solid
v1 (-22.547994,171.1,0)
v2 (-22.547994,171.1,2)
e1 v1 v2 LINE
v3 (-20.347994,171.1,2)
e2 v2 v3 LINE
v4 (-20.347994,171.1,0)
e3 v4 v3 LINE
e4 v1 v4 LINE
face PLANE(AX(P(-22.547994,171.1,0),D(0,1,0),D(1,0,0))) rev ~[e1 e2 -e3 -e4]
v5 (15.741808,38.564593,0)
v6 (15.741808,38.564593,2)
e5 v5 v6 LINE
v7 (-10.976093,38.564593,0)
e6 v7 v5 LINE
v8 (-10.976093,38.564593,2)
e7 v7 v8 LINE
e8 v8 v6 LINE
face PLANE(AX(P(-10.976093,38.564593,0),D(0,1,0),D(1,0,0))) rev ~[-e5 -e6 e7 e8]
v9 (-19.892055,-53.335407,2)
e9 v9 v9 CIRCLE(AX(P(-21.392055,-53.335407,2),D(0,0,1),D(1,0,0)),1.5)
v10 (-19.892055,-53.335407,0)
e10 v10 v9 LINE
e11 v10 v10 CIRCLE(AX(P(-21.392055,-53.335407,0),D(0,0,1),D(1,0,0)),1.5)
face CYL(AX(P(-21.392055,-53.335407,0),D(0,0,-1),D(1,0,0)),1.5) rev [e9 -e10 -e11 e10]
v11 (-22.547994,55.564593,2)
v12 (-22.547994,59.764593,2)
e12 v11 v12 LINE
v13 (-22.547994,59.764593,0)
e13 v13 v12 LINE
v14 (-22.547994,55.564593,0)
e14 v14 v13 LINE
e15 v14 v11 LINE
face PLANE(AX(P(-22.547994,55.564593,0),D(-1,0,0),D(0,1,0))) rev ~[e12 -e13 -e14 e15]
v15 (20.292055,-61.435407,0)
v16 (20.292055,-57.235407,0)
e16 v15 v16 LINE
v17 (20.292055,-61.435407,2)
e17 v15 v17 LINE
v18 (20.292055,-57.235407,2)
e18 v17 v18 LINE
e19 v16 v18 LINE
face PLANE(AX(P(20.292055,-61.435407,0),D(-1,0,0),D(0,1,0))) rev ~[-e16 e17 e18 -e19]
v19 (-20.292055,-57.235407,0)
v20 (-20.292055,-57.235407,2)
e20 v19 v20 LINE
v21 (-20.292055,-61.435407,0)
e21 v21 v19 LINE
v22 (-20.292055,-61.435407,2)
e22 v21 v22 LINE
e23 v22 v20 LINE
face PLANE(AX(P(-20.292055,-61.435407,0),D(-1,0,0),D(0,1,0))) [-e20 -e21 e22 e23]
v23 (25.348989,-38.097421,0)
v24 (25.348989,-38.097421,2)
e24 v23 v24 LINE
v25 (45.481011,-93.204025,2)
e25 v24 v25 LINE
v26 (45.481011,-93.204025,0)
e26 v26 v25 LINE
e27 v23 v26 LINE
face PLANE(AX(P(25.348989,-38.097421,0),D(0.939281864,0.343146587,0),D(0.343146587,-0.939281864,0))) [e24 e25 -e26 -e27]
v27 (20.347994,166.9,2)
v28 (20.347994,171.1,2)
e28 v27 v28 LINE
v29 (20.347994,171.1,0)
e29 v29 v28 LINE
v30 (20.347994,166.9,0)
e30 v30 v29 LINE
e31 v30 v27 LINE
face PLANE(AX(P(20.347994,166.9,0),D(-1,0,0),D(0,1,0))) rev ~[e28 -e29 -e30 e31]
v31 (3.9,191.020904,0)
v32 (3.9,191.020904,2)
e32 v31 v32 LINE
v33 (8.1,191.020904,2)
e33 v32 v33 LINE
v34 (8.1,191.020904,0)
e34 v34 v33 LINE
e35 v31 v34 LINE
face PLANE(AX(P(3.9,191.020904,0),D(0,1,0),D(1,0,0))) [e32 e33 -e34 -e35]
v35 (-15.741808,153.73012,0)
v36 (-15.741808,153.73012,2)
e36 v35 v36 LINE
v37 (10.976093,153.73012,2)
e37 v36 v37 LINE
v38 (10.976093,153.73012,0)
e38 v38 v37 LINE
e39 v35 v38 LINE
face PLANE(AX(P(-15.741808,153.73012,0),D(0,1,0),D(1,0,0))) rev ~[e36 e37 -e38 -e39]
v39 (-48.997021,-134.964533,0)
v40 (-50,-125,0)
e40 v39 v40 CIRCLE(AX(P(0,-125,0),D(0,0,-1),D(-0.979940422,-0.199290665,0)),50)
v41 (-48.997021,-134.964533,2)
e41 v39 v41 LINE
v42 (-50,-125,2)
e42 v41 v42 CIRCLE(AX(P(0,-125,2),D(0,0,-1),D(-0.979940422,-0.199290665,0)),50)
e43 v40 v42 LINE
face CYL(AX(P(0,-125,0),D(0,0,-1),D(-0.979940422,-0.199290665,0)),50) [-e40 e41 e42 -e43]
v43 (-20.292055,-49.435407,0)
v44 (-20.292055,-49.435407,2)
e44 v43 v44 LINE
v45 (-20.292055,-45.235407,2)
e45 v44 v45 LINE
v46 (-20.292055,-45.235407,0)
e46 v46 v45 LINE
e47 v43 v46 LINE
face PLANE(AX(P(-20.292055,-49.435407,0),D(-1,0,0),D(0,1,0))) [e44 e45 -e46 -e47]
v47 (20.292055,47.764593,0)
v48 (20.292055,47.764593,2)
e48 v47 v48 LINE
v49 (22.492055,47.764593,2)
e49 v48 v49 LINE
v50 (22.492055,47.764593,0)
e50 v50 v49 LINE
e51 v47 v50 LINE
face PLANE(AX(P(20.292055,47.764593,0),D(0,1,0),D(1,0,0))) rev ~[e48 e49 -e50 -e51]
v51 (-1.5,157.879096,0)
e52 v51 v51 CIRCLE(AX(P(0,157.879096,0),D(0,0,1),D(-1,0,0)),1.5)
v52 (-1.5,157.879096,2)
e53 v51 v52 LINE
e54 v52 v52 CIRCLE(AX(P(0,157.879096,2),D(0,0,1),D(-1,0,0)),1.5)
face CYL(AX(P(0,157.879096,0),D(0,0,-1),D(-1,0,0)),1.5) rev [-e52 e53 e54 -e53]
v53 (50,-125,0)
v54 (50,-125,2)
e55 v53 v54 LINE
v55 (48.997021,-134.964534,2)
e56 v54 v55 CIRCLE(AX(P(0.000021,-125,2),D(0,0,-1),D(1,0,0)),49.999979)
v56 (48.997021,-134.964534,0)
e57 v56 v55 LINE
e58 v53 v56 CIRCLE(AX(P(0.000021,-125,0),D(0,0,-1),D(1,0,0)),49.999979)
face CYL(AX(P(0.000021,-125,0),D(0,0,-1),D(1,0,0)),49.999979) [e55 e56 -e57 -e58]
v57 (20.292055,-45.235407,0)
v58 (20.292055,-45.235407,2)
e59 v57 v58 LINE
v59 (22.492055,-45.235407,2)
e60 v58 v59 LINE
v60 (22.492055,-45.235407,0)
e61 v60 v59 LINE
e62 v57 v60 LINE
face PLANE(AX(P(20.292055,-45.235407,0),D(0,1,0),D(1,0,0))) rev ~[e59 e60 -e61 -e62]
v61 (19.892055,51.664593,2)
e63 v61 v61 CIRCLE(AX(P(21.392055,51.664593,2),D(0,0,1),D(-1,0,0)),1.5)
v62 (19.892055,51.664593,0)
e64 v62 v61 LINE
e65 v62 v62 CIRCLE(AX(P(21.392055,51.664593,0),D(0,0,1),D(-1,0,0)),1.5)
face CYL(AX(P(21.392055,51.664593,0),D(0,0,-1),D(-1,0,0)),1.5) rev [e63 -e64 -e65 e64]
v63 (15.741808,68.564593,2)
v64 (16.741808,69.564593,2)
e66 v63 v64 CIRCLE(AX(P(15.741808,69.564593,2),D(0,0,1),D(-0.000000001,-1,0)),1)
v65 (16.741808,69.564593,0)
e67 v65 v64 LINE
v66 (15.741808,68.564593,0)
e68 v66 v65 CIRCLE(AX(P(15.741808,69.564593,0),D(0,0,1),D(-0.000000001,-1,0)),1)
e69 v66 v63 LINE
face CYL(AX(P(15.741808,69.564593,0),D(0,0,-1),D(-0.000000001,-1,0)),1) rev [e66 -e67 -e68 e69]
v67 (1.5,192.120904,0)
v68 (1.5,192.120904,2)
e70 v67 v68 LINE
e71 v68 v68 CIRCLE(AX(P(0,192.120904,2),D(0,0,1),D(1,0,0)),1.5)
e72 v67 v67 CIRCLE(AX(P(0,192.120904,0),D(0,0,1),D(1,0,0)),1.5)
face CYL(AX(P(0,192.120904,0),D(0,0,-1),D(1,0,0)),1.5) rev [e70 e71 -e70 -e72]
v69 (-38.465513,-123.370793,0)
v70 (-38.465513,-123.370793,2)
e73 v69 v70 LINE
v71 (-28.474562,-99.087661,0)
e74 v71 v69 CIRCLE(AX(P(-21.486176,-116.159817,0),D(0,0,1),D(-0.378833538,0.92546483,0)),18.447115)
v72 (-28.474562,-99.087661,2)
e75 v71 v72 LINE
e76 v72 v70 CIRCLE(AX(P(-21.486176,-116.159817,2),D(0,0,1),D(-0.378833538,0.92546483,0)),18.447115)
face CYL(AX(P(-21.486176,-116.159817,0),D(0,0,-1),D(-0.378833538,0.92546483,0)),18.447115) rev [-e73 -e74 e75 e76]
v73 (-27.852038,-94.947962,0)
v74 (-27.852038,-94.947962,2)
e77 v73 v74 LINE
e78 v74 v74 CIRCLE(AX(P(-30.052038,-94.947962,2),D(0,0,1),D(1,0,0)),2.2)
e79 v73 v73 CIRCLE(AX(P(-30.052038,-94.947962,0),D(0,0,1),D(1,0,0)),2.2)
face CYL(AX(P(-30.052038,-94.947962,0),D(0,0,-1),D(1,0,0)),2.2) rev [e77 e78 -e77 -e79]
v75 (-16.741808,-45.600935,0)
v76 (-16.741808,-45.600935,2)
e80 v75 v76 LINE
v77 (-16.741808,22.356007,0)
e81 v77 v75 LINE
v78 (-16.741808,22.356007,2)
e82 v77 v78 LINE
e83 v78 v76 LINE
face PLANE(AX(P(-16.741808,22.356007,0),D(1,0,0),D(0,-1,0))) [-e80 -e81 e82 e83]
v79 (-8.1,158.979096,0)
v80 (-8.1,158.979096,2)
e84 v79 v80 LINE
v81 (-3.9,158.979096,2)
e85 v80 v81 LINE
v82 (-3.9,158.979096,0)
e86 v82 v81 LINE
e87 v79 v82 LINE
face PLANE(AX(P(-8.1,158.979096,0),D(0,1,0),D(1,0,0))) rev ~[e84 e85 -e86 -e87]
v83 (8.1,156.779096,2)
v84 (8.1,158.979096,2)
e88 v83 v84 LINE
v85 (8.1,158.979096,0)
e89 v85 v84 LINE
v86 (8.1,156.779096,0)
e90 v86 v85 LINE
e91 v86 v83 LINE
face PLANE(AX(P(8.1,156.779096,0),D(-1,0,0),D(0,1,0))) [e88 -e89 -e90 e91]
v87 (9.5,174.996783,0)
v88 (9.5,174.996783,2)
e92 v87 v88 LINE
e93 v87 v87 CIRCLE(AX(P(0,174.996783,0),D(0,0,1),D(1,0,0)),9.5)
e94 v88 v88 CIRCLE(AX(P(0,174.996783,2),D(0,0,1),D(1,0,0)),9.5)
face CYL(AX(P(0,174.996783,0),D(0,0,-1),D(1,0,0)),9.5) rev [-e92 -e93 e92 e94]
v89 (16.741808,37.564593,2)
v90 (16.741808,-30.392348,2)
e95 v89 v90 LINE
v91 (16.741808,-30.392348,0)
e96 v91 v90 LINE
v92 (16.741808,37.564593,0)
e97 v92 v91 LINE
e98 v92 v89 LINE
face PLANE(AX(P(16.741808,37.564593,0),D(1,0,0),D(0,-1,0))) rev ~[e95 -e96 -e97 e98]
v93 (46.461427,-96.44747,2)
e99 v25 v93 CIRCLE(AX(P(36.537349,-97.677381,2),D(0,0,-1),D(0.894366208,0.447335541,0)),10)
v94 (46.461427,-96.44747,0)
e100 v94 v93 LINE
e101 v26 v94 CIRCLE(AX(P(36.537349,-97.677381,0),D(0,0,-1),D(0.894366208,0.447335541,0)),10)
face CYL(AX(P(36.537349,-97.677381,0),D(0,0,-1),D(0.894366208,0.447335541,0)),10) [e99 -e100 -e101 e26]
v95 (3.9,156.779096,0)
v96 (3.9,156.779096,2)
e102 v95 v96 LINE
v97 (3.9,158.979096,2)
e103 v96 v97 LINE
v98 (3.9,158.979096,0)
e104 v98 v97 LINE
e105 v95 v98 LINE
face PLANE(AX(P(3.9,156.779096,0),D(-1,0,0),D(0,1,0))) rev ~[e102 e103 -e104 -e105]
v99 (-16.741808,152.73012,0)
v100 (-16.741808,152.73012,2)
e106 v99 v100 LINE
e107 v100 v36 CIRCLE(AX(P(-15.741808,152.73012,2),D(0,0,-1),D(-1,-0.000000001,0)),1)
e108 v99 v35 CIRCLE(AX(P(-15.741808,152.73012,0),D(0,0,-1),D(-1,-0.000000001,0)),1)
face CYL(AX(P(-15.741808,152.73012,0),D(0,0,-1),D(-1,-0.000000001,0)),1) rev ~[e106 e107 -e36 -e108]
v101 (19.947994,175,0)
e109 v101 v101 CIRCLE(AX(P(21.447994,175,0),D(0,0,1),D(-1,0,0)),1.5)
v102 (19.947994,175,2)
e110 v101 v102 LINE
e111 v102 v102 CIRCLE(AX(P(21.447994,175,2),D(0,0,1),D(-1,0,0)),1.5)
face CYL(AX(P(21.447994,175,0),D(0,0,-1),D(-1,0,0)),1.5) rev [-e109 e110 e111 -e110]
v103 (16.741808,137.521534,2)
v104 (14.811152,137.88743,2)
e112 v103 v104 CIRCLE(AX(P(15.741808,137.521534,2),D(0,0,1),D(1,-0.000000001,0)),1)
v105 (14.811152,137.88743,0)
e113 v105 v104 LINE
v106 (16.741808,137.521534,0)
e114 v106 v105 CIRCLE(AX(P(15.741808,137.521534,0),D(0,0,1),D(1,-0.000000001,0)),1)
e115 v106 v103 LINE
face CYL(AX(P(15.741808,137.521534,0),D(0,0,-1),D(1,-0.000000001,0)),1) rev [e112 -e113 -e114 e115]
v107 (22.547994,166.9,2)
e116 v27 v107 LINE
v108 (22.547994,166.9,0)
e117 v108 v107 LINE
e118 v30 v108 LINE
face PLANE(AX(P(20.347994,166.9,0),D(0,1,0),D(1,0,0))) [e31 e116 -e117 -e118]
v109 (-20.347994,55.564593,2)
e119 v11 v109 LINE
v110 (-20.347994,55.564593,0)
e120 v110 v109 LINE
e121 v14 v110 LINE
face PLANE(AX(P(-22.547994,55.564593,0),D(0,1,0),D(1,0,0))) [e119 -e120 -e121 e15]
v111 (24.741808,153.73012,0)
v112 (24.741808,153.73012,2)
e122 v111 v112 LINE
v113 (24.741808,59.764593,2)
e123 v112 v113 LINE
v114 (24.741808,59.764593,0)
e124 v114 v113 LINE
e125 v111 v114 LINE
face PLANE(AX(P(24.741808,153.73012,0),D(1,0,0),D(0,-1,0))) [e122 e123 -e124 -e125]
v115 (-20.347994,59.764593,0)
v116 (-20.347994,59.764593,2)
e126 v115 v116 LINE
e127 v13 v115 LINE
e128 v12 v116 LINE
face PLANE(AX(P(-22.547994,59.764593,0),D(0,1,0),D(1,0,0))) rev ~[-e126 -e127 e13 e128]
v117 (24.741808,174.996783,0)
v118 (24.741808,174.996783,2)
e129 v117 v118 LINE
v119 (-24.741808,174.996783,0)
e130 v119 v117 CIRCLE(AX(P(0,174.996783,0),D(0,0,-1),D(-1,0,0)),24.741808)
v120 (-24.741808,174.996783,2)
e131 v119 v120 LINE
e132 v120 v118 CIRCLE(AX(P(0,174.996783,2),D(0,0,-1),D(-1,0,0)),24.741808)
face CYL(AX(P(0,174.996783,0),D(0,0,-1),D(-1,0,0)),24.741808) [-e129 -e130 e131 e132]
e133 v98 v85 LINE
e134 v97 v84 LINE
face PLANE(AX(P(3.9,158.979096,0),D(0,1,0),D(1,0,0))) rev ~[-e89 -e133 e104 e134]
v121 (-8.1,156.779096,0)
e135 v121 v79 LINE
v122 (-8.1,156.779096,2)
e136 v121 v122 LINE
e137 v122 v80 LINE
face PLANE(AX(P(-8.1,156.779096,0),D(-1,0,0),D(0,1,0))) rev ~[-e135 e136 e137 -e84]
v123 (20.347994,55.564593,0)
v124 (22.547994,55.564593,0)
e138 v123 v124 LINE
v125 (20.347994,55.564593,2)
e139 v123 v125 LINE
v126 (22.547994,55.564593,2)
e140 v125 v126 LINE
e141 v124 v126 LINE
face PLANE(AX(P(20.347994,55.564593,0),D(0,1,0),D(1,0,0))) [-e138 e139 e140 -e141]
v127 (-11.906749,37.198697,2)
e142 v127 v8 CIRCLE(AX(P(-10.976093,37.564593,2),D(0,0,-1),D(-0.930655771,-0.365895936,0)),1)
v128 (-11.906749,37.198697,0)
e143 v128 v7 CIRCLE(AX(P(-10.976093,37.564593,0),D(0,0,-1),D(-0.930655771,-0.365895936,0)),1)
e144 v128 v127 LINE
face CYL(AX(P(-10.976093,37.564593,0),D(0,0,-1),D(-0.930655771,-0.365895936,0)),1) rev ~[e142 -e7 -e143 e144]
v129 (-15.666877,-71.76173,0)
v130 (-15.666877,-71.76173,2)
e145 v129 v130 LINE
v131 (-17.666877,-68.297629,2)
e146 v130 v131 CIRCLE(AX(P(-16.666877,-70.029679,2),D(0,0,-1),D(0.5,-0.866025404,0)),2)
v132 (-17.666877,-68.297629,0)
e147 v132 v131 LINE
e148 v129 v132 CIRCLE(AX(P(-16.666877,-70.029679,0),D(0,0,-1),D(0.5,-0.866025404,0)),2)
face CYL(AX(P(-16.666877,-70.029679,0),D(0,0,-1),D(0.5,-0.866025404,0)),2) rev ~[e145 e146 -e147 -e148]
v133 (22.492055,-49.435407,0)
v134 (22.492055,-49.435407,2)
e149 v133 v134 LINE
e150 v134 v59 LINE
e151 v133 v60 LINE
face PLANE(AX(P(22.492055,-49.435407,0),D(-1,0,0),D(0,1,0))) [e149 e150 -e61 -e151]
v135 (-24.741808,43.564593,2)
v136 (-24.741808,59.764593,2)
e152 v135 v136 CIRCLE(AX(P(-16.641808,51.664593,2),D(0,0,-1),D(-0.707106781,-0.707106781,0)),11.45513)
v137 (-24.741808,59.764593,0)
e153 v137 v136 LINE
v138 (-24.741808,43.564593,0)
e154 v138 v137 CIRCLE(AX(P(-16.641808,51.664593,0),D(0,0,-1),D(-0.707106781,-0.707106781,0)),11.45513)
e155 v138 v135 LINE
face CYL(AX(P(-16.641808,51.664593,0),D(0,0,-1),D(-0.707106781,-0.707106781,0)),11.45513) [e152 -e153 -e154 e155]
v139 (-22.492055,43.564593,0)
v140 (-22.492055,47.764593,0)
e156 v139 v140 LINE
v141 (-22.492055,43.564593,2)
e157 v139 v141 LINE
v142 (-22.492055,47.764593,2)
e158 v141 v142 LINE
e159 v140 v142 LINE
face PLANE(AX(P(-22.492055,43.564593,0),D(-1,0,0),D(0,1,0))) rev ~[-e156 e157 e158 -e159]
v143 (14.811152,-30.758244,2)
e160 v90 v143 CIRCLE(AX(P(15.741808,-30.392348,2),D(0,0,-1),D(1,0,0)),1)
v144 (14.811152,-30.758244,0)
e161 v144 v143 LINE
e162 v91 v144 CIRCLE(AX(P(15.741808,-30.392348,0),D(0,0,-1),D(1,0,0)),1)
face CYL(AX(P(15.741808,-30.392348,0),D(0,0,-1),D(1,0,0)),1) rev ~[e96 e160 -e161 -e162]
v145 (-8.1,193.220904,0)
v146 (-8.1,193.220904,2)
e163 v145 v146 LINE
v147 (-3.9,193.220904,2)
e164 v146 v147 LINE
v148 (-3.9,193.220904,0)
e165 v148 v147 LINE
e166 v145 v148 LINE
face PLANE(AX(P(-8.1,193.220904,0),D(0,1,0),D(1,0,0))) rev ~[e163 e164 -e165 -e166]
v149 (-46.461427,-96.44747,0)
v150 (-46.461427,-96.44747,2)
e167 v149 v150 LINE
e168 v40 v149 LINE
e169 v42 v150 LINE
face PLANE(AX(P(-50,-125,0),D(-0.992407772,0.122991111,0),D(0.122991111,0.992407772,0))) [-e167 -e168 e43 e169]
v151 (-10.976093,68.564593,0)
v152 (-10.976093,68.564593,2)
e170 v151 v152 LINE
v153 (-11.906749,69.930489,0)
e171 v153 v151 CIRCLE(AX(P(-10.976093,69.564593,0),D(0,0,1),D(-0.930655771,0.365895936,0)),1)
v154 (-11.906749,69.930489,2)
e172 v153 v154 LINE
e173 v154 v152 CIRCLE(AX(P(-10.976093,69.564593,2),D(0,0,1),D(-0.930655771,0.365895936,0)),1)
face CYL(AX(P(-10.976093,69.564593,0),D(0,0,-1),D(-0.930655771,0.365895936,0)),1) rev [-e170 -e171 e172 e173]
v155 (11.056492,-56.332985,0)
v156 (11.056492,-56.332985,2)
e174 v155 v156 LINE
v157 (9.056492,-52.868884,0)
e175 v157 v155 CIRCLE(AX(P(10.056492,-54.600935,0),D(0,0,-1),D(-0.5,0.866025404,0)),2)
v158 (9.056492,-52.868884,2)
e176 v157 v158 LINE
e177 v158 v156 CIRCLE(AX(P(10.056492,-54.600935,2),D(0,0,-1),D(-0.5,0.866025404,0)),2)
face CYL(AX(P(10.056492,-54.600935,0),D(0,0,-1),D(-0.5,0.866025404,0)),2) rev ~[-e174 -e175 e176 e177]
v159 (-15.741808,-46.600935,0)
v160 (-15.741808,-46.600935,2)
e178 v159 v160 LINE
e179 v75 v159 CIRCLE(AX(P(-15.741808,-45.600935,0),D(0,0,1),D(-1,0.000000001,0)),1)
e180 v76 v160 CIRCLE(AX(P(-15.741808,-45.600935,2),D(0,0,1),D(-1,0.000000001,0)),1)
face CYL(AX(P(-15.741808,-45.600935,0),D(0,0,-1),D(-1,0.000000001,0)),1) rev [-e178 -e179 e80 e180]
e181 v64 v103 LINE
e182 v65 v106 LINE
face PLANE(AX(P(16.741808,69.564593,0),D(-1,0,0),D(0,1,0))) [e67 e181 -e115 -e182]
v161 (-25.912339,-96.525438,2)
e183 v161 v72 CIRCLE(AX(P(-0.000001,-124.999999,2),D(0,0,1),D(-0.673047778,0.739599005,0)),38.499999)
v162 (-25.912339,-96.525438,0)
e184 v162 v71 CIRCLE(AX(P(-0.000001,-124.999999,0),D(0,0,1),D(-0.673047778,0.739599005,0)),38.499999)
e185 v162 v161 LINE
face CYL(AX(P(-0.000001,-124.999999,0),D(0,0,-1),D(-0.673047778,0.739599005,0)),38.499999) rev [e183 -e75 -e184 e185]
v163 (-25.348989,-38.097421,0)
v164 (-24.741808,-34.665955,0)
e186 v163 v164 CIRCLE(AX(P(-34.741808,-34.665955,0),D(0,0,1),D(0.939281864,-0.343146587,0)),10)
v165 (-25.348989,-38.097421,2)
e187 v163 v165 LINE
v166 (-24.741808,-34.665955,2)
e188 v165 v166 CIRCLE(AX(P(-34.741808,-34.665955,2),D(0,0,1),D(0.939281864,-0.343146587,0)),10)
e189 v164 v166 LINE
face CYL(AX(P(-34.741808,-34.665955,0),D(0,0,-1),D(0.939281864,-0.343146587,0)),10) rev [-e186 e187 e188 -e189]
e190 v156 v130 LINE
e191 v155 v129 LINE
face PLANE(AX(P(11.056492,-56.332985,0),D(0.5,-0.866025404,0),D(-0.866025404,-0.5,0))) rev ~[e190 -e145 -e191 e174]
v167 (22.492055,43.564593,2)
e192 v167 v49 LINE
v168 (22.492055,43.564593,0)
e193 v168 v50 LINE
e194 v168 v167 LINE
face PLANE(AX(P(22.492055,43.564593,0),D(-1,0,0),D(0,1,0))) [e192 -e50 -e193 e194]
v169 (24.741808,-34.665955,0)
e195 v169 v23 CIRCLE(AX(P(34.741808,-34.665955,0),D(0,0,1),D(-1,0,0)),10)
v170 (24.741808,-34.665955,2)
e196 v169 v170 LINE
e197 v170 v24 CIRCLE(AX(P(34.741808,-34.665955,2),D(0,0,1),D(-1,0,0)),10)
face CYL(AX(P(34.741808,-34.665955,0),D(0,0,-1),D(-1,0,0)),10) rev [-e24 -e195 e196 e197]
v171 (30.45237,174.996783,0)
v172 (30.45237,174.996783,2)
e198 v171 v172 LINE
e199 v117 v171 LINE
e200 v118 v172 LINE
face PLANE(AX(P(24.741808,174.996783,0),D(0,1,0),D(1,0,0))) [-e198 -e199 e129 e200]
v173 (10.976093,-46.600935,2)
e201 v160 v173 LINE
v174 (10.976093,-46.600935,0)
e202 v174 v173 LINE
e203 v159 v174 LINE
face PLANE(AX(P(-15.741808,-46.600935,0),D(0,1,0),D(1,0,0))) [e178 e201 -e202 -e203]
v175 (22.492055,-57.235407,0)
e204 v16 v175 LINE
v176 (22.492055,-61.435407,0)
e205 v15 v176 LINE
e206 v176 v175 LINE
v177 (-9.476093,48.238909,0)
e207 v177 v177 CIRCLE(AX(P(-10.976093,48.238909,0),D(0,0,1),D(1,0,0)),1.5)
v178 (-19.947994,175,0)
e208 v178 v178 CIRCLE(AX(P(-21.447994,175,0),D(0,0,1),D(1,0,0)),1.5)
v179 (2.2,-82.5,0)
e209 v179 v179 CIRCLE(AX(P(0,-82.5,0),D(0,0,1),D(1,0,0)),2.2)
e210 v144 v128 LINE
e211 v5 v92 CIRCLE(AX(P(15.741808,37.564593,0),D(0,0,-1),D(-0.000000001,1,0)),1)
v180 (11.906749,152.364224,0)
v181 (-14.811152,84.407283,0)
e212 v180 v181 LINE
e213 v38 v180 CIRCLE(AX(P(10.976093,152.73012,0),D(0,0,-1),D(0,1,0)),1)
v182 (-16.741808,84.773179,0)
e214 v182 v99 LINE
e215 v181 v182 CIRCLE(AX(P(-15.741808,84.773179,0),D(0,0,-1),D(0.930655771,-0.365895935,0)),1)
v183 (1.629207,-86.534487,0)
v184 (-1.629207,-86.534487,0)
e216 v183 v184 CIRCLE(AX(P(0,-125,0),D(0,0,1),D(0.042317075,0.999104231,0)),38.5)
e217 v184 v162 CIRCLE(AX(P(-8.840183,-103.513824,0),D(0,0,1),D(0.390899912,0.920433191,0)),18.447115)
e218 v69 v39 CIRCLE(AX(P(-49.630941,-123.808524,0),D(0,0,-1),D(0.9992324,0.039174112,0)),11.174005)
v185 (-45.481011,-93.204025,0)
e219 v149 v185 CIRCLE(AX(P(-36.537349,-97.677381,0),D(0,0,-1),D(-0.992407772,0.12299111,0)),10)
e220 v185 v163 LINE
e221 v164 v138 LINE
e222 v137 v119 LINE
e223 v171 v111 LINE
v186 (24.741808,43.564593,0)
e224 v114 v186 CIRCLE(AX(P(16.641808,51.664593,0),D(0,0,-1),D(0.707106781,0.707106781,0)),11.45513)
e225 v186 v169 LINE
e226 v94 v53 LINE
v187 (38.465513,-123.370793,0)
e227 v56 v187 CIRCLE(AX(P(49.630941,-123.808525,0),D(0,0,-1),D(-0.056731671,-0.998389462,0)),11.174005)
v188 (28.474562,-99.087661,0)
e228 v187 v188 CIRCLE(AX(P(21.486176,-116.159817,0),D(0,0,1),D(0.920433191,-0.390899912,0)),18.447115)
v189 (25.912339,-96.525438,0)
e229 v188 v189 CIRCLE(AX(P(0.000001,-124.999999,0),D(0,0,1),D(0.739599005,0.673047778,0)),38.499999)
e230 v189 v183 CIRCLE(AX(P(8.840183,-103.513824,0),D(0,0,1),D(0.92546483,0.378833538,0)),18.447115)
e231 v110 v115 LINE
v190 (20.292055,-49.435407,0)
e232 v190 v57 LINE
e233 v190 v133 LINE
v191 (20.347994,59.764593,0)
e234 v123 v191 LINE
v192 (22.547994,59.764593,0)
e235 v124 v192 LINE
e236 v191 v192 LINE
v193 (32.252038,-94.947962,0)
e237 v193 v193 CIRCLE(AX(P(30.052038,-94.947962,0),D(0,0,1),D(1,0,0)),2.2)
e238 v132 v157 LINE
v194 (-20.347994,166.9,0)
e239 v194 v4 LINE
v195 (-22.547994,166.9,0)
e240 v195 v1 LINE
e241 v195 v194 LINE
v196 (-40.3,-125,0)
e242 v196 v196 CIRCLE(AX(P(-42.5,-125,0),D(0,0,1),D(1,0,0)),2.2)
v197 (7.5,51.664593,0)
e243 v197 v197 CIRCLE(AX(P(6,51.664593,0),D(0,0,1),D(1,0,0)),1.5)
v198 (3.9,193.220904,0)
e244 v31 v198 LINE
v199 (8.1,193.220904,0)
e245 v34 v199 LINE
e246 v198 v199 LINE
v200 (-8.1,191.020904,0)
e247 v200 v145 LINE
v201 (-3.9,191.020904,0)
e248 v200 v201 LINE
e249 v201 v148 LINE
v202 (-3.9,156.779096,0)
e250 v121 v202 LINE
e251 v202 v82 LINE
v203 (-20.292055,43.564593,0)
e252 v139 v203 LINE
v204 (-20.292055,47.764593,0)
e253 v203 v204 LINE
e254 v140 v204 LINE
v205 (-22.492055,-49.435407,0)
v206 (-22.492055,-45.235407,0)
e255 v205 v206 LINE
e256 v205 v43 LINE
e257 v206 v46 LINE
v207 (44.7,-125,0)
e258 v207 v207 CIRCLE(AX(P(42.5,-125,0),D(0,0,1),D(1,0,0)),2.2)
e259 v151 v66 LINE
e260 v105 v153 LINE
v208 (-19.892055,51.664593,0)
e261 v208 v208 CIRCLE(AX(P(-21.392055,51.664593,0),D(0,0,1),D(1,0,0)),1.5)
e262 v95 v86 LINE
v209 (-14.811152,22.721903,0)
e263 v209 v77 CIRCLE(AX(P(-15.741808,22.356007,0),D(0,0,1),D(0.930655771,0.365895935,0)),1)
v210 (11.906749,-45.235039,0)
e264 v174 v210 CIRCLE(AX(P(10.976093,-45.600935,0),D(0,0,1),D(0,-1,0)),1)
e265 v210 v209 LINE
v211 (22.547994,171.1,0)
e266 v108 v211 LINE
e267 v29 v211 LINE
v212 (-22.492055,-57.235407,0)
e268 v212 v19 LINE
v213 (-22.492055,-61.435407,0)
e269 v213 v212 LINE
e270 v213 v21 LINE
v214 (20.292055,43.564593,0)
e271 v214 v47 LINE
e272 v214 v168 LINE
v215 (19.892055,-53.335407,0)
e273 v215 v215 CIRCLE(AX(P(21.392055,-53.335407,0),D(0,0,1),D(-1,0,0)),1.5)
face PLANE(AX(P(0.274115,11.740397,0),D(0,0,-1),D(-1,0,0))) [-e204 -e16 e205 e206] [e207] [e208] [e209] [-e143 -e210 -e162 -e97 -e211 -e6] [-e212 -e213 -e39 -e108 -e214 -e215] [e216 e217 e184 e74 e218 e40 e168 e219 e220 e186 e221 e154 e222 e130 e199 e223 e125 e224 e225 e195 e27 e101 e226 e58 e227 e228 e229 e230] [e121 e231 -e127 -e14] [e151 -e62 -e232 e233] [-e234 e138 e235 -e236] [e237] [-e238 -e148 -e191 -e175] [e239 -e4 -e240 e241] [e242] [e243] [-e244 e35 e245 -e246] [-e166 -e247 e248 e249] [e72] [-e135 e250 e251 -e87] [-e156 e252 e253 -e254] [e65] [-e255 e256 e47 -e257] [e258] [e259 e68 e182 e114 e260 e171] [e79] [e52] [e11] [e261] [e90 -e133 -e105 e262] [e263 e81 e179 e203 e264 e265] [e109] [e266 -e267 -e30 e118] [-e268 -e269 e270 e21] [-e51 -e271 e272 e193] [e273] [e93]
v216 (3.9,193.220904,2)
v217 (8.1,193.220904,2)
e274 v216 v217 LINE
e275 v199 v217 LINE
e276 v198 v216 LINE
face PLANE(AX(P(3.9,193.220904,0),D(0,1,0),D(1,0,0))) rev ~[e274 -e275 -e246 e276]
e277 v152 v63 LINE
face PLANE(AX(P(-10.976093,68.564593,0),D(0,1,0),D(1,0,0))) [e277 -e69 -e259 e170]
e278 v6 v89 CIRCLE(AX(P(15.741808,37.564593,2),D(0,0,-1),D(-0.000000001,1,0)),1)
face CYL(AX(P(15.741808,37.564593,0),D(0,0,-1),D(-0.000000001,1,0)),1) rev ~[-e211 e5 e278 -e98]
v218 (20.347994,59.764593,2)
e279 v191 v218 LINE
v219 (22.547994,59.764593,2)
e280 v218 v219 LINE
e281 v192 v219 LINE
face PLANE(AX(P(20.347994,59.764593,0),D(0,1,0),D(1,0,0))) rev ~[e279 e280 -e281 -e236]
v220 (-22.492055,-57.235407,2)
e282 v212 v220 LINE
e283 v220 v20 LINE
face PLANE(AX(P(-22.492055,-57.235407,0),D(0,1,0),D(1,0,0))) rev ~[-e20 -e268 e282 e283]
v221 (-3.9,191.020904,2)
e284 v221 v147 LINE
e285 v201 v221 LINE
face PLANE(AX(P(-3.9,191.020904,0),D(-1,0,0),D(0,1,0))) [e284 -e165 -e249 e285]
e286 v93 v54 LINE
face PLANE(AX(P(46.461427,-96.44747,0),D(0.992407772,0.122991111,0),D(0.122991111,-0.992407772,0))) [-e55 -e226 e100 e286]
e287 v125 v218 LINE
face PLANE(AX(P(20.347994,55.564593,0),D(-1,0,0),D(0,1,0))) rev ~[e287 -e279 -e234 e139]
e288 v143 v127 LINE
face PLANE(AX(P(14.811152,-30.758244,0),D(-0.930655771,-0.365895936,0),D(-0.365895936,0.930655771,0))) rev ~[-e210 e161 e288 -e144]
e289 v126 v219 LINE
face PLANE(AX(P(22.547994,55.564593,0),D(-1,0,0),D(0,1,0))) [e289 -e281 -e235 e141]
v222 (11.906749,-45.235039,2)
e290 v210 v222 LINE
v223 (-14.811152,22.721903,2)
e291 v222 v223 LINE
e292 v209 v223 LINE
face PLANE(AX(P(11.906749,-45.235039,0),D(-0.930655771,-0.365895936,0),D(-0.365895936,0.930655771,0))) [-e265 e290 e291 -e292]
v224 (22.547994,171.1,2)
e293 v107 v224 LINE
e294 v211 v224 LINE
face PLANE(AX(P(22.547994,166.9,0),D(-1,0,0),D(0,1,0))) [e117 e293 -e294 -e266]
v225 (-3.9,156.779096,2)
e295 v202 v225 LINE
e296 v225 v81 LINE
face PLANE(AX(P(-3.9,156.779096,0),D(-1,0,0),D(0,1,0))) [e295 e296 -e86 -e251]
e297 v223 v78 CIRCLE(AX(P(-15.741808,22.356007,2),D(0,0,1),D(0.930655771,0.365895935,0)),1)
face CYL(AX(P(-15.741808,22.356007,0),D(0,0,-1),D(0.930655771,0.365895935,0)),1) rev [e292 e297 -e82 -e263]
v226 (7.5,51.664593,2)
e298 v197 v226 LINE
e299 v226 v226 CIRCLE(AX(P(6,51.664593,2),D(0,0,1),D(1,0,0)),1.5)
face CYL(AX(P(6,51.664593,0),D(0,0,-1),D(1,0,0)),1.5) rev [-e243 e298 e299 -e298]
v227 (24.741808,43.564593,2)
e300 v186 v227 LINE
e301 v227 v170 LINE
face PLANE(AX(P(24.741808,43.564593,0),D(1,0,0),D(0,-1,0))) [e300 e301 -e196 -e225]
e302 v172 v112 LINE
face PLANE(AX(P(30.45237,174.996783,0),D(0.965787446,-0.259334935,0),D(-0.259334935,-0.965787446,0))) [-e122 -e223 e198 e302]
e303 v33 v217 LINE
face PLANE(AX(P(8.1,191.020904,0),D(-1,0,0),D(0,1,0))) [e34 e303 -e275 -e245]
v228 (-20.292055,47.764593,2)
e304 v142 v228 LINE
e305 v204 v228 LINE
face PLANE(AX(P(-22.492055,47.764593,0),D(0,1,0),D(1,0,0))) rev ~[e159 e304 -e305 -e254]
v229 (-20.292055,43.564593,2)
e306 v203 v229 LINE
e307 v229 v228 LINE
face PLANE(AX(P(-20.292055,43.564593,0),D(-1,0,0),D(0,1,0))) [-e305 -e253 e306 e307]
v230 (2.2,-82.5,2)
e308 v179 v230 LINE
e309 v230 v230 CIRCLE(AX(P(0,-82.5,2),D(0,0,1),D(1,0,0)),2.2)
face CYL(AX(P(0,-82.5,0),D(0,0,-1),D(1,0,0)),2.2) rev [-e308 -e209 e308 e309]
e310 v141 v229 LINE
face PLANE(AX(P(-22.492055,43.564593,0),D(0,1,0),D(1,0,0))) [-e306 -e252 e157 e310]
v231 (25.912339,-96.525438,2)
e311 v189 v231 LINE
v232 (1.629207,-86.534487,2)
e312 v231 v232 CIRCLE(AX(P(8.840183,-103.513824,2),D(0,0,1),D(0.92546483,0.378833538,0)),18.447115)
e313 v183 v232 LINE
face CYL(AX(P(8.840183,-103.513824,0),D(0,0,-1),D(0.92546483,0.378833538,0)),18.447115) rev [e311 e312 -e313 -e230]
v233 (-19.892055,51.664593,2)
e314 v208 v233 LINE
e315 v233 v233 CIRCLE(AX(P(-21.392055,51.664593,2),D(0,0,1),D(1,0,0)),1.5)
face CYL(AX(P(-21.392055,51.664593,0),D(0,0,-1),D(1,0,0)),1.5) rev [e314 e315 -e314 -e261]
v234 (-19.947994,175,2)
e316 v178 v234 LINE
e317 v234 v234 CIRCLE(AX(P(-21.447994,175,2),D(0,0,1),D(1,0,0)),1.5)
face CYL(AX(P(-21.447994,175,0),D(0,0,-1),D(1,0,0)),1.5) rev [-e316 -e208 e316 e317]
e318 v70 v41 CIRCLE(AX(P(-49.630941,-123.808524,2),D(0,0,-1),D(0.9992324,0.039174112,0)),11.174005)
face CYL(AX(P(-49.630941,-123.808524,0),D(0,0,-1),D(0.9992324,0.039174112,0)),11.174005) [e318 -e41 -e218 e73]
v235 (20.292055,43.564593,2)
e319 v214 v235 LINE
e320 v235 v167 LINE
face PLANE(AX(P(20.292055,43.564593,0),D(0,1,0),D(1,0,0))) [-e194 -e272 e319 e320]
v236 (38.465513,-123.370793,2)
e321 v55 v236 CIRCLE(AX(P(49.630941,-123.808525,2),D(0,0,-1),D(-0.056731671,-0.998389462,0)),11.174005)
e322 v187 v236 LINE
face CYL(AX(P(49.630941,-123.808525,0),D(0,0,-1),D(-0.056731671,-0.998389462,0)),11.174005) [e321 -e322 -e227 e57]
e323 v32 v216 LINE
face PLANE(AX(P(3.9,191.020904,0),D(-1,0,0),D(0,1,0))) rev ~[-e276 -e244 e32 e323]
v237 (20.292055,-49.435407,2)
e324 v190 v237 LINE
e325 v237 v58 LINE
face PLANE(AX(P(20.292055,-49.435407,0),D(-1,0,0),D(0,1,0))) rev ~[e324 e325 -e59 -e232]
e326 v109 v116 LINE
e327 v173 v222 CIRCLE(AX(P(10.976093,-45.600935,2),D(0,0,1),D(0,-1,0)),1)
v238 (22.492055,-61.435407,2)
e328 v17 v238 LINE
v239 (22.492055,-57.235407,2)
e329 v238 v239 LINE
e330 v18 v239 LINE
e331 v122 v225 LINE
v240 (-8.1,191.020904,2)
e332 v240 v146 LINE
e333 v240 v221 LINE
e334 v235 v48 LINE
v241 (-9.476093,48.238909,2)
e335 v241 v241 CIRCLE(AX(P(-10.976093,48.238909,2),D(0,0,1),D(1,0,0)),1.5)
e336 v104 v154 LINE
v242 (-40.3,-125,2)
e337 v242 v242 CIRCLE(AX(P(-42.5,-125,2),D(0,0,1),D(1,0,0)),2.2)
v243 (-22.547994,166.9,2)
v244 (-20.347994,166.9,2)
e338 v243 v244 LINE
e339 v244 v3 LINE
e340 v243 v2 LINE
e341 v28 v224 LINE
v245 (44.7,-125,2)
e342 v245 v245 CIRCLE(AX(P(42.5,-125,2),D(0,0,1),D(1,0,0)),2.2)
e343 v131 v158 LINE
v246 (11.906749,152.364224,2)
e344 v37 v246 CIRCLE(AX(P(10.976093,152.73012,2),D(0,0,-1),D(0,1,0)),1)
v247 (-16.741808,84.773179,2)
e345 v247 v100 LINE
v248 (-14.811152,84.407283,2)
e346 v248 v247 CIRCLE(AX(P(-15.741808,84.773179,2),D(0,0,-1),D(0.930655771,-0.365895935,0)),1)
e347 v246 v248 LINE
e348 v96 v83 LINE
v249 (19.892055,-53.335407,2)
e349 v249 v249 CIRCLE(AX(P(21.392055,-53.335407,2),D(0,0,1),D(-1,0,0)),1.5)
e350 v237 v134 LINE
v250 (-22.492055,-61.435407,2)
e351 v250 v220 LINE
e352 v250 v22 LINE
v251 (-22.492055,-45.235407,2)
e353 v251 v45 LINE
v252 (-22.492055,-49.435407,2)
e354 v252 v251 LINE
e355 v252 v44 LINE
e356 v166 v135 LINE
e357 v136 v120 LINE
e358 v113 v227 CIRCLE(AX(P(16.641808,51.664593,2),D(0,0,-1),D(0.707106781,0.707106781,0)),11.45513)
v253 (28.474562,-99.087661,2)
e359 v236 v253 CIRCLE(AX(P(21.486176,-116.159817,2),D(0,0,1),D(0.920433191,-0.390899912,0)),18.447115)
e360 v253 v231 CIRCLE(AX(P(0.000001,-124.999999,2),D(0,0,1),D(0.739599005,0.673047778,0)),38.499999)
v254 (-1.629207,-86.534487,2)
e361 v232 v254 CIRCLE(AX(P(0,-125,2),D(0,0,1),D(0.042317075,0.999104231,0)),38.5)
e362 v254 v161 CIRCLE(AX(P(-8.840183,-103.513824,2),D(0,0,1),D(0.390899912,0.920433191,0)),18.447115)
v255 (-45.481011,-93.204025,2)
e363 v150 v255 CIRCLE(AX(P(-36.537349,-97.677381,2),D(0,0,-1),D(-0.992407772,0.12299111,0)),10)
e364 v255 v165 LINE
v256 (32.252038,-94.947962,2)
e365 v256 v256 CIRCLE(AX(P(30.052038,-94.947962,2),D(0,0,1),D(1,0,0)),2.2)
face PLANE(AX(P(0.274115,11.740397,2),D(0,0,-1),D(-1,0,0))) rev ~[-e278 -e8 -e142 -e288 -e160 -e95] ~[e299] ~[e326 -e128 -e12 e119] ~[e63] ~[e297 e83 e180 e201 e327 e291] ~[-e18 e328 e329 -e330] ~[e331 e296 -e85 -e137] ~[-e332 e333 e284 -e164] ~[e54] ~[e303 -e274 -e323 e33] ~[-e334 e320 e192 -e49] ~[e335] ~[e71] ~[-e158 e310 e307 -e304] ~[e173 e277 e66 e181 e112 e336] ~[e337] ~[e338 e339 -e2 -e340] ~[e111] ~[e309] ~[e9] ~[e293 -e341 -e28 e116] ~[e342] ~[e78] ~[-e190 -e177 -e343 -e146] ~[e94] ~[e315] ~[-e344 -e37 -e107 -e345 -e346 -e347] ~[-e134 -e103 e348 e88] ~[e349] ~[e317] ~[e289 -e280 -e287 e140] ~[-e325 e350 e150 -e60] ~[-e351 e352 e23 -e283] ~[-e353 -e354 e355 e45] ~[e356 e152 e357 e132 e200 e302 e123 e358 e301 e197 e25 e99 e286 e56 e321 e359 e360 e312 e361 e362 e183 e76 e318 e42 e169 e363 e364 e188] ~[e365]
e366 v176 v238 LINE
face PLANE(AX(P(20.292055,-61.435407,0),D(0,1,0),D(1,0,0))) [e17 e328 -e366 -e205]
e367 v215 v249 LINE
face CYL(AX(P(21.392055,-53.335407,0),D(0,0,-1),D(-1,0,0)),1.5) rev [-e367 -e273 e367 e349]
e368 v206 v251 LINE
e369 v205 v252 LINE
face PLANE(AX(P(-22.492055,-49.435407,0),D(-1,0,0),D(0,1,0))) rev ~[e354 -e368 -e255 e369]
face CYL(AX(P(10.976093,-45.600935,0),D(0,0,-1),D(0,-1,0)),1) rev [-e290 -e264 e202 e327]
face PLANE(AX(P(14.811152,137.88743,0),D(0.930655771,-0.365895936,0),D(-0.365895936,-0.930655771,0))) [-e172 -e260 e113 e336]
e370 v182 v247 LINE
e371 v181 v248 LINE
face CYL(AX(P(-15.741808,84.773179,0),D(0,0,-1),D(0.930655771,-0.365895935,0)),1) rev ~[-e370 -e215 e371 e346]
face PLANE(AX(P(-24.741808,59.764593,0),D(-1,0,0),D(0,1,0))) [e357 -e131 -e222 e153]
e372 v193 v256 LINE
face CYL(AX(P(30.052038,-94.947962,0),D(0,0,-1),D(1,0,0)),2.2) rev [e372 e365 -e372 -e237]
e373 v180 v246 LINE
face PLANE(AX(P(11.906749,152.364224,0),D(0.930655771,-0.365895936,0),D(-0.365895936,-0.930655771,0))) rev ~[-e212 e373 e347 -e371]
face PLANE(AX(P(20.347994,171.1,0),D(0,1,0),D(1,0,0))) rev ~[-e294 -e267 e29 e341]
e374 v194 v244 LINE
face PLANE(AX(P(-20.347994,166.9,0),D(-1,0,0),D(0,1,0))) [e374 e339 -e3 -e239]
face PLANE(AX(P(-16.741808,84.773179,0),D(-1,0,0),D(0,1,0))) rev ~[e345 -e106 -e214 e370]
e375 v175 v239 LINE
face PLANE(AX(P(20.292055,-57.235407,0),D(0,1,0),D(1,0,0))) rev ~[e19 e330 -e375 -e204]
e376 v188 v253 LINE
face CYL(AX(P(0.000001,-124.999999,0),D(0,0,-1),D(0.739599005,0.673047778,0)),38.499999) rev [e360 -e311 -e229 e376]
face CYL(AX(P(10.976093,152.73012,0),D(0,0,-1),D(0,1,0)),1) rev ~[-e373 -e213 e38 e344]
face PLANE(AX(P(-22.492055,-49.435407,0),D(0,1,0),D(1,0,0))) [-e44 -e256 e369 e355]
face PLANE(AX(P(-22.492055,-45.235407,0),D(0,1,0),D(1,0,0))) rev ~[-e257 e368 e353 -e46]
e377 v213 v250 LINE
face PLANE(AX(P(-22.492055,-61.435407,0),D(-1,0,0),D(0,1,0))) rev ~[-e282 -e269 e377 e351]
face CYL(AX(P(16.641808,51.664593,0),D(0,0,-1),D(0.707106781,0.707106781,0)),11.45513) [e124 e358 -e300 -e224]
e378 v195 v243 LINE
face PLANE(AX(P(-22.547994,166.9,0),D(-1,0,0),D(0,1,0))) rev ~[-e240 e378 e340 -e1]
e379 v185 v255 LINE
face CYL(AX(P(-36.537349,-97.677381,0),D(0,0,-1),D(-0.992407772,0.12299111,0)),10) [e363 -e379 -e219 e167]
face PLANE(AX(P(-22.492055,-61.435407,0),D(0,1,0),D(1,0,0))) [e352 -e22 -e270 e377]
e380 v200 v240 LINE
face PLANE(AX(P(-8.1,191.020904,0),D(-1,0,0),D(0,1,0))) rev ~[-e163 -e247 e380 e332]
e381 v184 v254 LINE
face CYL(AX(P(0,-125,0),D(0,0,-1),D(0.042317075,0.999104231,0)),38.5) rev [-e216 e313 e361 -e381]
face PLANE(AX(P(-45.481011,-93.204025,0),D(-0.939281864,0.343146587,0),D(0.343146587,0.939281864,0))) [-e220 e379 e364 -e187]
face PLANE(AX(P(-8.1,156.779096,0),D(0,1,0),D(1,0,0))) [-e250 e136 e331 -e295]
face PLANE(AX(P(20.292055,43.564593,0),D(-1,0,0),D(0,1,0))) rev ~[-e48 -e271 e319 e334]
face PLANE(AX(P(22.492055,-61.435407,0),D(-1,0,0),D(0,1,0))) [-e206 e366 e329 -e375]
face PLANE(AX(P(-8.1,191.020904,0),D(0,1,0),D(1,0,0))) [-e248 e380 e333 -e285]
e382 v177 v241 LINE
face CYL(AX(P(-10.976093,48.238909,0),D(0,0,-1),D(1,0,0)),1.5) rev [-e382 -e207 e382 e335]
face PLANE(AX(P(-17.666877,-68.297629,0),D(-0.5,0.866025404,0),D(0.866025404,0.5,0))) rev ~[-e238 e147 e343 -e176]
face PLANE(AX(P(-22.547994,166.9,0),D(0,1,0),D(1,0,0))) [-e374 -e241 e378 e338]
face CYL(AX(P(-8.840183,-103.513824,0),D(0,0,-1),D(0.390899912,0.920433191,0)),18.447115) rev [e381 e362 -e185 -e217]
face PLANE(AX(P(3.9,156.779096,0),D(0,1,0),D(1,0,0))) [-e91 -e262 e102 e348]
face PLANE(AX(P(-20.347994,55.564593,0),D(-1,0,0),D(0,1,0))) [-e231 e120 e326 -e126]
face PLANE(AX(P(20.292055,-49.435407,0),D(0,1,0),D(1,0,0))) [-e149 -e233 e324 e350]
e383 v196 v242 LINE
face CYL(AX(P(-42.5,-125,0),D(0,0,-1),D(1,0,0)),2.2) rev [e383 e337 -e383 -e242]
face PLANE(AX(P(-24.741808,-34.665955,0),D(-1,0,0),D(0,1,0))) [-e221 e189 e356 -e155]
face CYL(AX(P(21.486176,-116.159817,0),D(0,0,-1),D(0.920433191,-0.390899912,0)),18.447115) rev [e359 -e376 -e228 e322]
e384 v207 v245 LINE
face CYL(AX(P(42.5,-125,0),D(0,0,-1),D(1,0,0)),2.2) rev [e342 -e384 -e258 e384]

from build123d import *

# Parameters (mm, degrees)
SKETCH_1_R      = 2.2
SKETCH_1_R_2    = 9.5
SKETCH_1_R_3    = 1.5
SKETCH_1_W      = 4.2
SKETCH_1_H      = 2.2
SKETCH_1_W_2    = 2.2
SKETCH_1_H_2    = 4.2
EXTRUDE_1_DEPTH = 2


with BuildPart() as part:
    # 草图1 → 凸台-拉伸1 (new body)
    with BuildSketch(Plane.XY):
        with BuildLine():
            Line((46.461426923, -96.447469622), (50, -125))
            ThreePointArc((50, -125), (49.748623245, -130.007441937), (48.997020592, -134.964533673))
            ThreePointArc((48.997020592, -134.964533673), (41.359915291, -131.321748354), (38.465512908, -123.370792619))
            ThreePointArc((38.465512908, -123.370792619), (38.545793672, -109.14087841), (28.474561687, -99.087660532))
            ThreePointArc((28.474561687, -99.087660532), (27.223611076, -97.776388924), (25.912339468, -96.525438313))
            ThreePointArc((25.912339468, -96.525438313), (15.85912159, -86.454206328), (1.629207381, -86.534487092))
            ThreePointArc((1.629207381, -86.534487092), (0, -86.5), (-1.629207381, -86.534487092))
            ThreePointArc((-1.629207381, -86.534487092), (-15.85912159, -86.454206328), (-25.912339468, -96.525438313))
            ThreePointArc((-25.912339468, -96.525438313), (-27.223611076, -97.776388924), (-28.474561687, -99.087660532))
            ThreePointArc((-28.474561687, -99.087660532), (-38.545793672, -109.14087841), (-38.465512908, -123.370792619))
            ThreePointArc((-38.465512908, -123.370792619), (-41.359915692, -131.321748192), (-48.997021107, -134.964533236))
            ThreePointArc((-48.997021107, -134.964533236), (-49.748623375, -130.007441694), (-50, -125))
            Line((-50, -125), (-46.461426923, -96.447469622))
            ThreePointArc((-46.461426923, -96.447469622), (-46.109594707, -94.783919835), (-45.481011279, -93.204025321))
            Line((-45.481011279, -93.204025321), (-25.348989293, -38.09742115))
            ThreePointArc((-25.348989293, -38.09742115), (-24.894773191, -36.408340658), (-24.741807932, -34.665955281))
            Line((-24.741807932, -34.665955281), (-24.741807932, -20.235407124))
            Line((-24.741807932, -20.235407124), (-24.741807932, 0))
            Line((-24.741807932, 0), (-24.741807932, 43.564592876))
            ThreePointArc((-24.741807932, 43.564592876), (-28.096937788, 51.664592876), (-24.741807932, 59.764592876))
            Line((-24.741807932, 59.764592876), (-24.741807932, 174.996783477))
            ThreePointArc((-24.741807932, 174.996783477), (0, 199.73859141), (24.741807932, 174.996783477))
            Line((24.741807932, 174.996783477), (30.452369558, 174.996783477))
            Line((30.452369558, 174.996783477), (24.741807932, 153.730120274))
            Line((24.741807932, 153.730120274), (24.741807932, 66.020820772))
            Line((24.741807932, 66.020820772), (24.741807932, 59.764592876))
            ThreePointArc((24.741807932, 59.764592876), (28.096937788, 51.664592876), (24.741807932, 43.564592876))
            Line((24.741807932, 43.564592876), (24.741807932, 37.305457961))
            Line((24.741807932, 37.305457961), (24.741807932, 0))
            Line((24.741807932, 0), (24.741807932, -20.235407124))
            Line((24.741807932, -20.235407124), (24.741807932, -34.665955281))
            ThreePointArc((24.741807932, -34.665955281), (24.894773191, -36.408340658), (25.348989293, -38.09742115))
            Line((25.348989293, -38.09742115), (45.481011279, -93.204025321))
            ThreePointArc((45.481011279, -93.204025321), (46.109594707, -94.783919835), (46.461426923, -96.447469622))
        make_face()
        with Locations((-42.5, -125)):
            Circle(SKETCH_1_R, mode=Mode.SUBTRACT)
        with Locations((-30.0520382, -94.9479618)):
            Circle(SKETCH_1_R, mode=Mode.SUBTRACT)
        with Locations((0, -82.5)):
            Circle(SKETCH_1_R, mode=Mode.SUBTRACT)
        with Locations((30.0520382, -94.9479618)):
            Circle(SKETCH_1_R, mode=Mode.SUBTRACT)
        with Locations((42.5, -125)):
            Circle(SKETCH_1_R, mode=Mode.SUBTRACT)
        with Locations((2.09e-07, 174.996783477)):
            Circle(SKETCH_1_R_2, mode=Mode.SUBTRACT)
        with Locations((0, 192.120903966)):
            Circle(SKETCH_1_R_3, mode=Mode.SUBTRACT)
        with Locations(Location((0, 157.879096034, 0), (0, 0, 180))):
            Circle(SKETCH_1_R_3, mode=Mode.SUBTRACT)
        with Locations((-21.392054648, -53.335407124)):
            Circle(SKETCH_1_R_3, mode=Mode.SUBTRACT)
        with Locations((-21.392054648, 51.664592876)):
            Circle(SKETCH_1_R_3, mode=Mode.SUBTRACT)
        with Locations(Location((21.392054648, -53.335407124, 0), (0, 0, 180))):
            Circle(SKETCH_1_R_3, mode=Mode.SUBTRACT)
        with Locations(Location((21.392054648, 51.664592876, 0), (0, 0, 180))):
            Circle(SKETCH_1_R_3, mode=Mode.SUBTRACT)
        with Locations(Location((21.447993697, 175, 0), (0, 0, 180))):
            Circle(SKETCH_1_R_3, mode=Mode.SUBTRACT)
        with Locations((-21.447993697, 175)):
            Circle(SKETCH_1_R_3, mode=Mode.SUBTRACT)
        with Locations((-10.976092936, 48.238908927)):
            Circle(SKETCH_1_R_3, mode=Mode.SUBTRACT)
        with Locations((6, 51.664592876)):
            Circle(SKETCH_1_R_3, mode=Mode.SUBTRACT)
        with Locations((6, 192.120903966)):
            Rectangle(SKETCH_1_W, SKETCH_1_H, mode=Mode.SUBTRACT)
        with Locations((-6, 192.120903966)):
            Rectangle(SKETCH_1_W, SKETCH_1_H, mode=Mode.SUBTRACT)
        with Locations((21.392054648, -47.335407124)):
            Rectangle(SKETCH_1_W_2, SKETCH_1_H_2, mode=Mode.SUBTRACT)
        with Locations((21.392054648, 45.664592876)):
            Rectangle(SKETCH_1_W_2, SKETCH_1_H_2, mode=Mode.SUBTRACT)
        with Locations((-21.447993697, 57.664592876)):
            Rectangle(SKETCH_1_W_2, SKETCH_1_H_2, mode=Mode.SUBTRACT)
        with Locations((-6, 157.879096034)):
            Rectangle(SKETCH_1_W, SKETCH_1_H, mode=Mode.SUBTRACT)
        with Locations((6, 157.879096034)):
            Rectangle(SKETCH_1_W, SKETCH_1_H, mode=Mode.SUBTRACT)
        with Locations((-21.392054648, -47.335407124)):
            Rectangle(SKETCH_1_W_2, SKETCH_1_H_2, mode=Mode.SUBTRACT)
        with Locations((-21.392054648, -59.335407124)):
            Rectangle(SKETCH_1_W_2, SKETCH_1_H_2, mode=Mode.SUBTRACT)
        with Locations((-21.392054648, 45.664592876)):
            Rectangle(SKETCH_1_W_2, SKETCH_1_H_2, mode=Mode.SUBTRACT)
        with BuildLine():
            Line((11.056492434, -56.33298533), (-15.666877498, -71.761730154))
            ThreePointArc((-15.666877498, -71.761730154), (-18.398928306, -71.029679346), (-17.666877498, -68.297628539))
            Line((-17.666877498, -68.297628539), (9.056492434, -52.868883715))
            ThreePointArc((9.056492434, -52.868883715), (11.788543242, -53.600934522), (11.056492434, -56.33298533))
        make_face(mode=Mode.SUBTRACT)
        with Locations((21.392054648, -59.335407124)):
            Rectangle(SKETCH_1_W_2, SKETCH_1_H_2, mode=Mode.SUBTRACT)
        with Locations((21.447993697, 57.664592876)):
            Rectangle(SKETCH_1_W_2, SKETCH_1_H_2, mode=Mode.SUBTRACT)
        with Locations((21.447993697, 169)):
            Rectangle(SKETCH_1_W_2, SKETCH_1_H_2, mode=Mode.SUBTRACT)
        with Locations((-21.447993697, 169)):
            Rectangle(SKETCH_1_W_2, SKETCH_1_H_2, mode=Mode.SUBTRACT)
        with BuildLine():
            Line((-16.741807932, 22.356006795), (-16.741807932, -45.600934522))
            ThreePointArc((-16.741807932, -45.600934522), (-16.448914714, -46.308041303), (-15.741807932, -46.600934522))
            Line((-15.741807932, -46.600934522), (10.976092936, -46.600934522))
            ThreePointArc((10.976092936, -46.600934522), (11.802499596, -46.164008258), (11.906748707, -45.235038586))
            Line((11.906748707, -45.235038586), (-14.811152161, 22.721902731))
            ThreePointArc((-14.811152161, 22.721902731), (-15.928012429, 23.338517806), (-16.741807932, 22.356006795))
        make_face(mode=Mode.SUBTRACT)
        with BuildLine():
            Line((-10.976092936, 38.564592876), (15.741807932, 38.564592876))
            ThreePointArc((15.741807932, 38.564592876), (16.448914714, 38.271699657), (16.741807932, 37.564592876))
            Line((16.741807932, 37.564592876), (16.741807932, -30.392348442))
            ThreePointArc((16.741807932, -30.392348442), (15.928012429, -31.374859452), (14.811152161, -30.758244377))
            Line((14.811152161, -30.758244377), (-11.906748707, 37.19869694))
            ThreePointArc((-11.906748707, 37.19869694), (-11.802499596, 38.127666612), (-10.976092936, 38.564592876))
        make_face(mode=Mode.SUBTRACT)
        with BuildLine():
            Line((14.811152161, 137.887430129), (-11.906748707, 69.930488812))
            ThreePointArc((-11.906748707, 69.930488812), (-11.802499596, 69.00151914), (-10.976092936, 68.564592876))
            Line((-10.976092936, 68.564592876), (15.741807932, 68.564592876))
            ThreePointArc((15.741807932, 68.564592876), (16.448914714, 68.857486095), (16.741807932, 69.564592876))
            Line((16.741807932, 69.564592876), (16.741807932, 137.521534193))
            ThreePointArc((16.741807932, 137.521534193), (15.928012429, 138.504045204), (14.811152161, 137.887430129))
        make_face(mode=Mode.SUBTRACT)
        with BuildLine():
            Line((11.906748707, 152.364224338), (-14.811152161, 84.407283021))
            ThreePointArc((-14.811152161, 84.407283021), (-15.928012429, 83.790667946), (-16.741807932, 84.773178956))
            Line((-16.741807932, 84.773178956), (-16.741807932, 152.730120274))
            ThreePointArc((-16.741807932, 152.730120274), (-16.448914714, 153.437227055), (-15.741807932, 153.730120274))
            Line((-15.741807932, 153.730120274), (10.976092936, 153.730120274))
            ThreePointArc((10.976092936, 153.730120274), (11.802499596, 153.29319401), (11.906748707, 152.364224338))
        make_face(mode=Mode.SUBTRACT)
    extrude(amount=EXTRUDE_1_DEPTH)


solid = part.part
